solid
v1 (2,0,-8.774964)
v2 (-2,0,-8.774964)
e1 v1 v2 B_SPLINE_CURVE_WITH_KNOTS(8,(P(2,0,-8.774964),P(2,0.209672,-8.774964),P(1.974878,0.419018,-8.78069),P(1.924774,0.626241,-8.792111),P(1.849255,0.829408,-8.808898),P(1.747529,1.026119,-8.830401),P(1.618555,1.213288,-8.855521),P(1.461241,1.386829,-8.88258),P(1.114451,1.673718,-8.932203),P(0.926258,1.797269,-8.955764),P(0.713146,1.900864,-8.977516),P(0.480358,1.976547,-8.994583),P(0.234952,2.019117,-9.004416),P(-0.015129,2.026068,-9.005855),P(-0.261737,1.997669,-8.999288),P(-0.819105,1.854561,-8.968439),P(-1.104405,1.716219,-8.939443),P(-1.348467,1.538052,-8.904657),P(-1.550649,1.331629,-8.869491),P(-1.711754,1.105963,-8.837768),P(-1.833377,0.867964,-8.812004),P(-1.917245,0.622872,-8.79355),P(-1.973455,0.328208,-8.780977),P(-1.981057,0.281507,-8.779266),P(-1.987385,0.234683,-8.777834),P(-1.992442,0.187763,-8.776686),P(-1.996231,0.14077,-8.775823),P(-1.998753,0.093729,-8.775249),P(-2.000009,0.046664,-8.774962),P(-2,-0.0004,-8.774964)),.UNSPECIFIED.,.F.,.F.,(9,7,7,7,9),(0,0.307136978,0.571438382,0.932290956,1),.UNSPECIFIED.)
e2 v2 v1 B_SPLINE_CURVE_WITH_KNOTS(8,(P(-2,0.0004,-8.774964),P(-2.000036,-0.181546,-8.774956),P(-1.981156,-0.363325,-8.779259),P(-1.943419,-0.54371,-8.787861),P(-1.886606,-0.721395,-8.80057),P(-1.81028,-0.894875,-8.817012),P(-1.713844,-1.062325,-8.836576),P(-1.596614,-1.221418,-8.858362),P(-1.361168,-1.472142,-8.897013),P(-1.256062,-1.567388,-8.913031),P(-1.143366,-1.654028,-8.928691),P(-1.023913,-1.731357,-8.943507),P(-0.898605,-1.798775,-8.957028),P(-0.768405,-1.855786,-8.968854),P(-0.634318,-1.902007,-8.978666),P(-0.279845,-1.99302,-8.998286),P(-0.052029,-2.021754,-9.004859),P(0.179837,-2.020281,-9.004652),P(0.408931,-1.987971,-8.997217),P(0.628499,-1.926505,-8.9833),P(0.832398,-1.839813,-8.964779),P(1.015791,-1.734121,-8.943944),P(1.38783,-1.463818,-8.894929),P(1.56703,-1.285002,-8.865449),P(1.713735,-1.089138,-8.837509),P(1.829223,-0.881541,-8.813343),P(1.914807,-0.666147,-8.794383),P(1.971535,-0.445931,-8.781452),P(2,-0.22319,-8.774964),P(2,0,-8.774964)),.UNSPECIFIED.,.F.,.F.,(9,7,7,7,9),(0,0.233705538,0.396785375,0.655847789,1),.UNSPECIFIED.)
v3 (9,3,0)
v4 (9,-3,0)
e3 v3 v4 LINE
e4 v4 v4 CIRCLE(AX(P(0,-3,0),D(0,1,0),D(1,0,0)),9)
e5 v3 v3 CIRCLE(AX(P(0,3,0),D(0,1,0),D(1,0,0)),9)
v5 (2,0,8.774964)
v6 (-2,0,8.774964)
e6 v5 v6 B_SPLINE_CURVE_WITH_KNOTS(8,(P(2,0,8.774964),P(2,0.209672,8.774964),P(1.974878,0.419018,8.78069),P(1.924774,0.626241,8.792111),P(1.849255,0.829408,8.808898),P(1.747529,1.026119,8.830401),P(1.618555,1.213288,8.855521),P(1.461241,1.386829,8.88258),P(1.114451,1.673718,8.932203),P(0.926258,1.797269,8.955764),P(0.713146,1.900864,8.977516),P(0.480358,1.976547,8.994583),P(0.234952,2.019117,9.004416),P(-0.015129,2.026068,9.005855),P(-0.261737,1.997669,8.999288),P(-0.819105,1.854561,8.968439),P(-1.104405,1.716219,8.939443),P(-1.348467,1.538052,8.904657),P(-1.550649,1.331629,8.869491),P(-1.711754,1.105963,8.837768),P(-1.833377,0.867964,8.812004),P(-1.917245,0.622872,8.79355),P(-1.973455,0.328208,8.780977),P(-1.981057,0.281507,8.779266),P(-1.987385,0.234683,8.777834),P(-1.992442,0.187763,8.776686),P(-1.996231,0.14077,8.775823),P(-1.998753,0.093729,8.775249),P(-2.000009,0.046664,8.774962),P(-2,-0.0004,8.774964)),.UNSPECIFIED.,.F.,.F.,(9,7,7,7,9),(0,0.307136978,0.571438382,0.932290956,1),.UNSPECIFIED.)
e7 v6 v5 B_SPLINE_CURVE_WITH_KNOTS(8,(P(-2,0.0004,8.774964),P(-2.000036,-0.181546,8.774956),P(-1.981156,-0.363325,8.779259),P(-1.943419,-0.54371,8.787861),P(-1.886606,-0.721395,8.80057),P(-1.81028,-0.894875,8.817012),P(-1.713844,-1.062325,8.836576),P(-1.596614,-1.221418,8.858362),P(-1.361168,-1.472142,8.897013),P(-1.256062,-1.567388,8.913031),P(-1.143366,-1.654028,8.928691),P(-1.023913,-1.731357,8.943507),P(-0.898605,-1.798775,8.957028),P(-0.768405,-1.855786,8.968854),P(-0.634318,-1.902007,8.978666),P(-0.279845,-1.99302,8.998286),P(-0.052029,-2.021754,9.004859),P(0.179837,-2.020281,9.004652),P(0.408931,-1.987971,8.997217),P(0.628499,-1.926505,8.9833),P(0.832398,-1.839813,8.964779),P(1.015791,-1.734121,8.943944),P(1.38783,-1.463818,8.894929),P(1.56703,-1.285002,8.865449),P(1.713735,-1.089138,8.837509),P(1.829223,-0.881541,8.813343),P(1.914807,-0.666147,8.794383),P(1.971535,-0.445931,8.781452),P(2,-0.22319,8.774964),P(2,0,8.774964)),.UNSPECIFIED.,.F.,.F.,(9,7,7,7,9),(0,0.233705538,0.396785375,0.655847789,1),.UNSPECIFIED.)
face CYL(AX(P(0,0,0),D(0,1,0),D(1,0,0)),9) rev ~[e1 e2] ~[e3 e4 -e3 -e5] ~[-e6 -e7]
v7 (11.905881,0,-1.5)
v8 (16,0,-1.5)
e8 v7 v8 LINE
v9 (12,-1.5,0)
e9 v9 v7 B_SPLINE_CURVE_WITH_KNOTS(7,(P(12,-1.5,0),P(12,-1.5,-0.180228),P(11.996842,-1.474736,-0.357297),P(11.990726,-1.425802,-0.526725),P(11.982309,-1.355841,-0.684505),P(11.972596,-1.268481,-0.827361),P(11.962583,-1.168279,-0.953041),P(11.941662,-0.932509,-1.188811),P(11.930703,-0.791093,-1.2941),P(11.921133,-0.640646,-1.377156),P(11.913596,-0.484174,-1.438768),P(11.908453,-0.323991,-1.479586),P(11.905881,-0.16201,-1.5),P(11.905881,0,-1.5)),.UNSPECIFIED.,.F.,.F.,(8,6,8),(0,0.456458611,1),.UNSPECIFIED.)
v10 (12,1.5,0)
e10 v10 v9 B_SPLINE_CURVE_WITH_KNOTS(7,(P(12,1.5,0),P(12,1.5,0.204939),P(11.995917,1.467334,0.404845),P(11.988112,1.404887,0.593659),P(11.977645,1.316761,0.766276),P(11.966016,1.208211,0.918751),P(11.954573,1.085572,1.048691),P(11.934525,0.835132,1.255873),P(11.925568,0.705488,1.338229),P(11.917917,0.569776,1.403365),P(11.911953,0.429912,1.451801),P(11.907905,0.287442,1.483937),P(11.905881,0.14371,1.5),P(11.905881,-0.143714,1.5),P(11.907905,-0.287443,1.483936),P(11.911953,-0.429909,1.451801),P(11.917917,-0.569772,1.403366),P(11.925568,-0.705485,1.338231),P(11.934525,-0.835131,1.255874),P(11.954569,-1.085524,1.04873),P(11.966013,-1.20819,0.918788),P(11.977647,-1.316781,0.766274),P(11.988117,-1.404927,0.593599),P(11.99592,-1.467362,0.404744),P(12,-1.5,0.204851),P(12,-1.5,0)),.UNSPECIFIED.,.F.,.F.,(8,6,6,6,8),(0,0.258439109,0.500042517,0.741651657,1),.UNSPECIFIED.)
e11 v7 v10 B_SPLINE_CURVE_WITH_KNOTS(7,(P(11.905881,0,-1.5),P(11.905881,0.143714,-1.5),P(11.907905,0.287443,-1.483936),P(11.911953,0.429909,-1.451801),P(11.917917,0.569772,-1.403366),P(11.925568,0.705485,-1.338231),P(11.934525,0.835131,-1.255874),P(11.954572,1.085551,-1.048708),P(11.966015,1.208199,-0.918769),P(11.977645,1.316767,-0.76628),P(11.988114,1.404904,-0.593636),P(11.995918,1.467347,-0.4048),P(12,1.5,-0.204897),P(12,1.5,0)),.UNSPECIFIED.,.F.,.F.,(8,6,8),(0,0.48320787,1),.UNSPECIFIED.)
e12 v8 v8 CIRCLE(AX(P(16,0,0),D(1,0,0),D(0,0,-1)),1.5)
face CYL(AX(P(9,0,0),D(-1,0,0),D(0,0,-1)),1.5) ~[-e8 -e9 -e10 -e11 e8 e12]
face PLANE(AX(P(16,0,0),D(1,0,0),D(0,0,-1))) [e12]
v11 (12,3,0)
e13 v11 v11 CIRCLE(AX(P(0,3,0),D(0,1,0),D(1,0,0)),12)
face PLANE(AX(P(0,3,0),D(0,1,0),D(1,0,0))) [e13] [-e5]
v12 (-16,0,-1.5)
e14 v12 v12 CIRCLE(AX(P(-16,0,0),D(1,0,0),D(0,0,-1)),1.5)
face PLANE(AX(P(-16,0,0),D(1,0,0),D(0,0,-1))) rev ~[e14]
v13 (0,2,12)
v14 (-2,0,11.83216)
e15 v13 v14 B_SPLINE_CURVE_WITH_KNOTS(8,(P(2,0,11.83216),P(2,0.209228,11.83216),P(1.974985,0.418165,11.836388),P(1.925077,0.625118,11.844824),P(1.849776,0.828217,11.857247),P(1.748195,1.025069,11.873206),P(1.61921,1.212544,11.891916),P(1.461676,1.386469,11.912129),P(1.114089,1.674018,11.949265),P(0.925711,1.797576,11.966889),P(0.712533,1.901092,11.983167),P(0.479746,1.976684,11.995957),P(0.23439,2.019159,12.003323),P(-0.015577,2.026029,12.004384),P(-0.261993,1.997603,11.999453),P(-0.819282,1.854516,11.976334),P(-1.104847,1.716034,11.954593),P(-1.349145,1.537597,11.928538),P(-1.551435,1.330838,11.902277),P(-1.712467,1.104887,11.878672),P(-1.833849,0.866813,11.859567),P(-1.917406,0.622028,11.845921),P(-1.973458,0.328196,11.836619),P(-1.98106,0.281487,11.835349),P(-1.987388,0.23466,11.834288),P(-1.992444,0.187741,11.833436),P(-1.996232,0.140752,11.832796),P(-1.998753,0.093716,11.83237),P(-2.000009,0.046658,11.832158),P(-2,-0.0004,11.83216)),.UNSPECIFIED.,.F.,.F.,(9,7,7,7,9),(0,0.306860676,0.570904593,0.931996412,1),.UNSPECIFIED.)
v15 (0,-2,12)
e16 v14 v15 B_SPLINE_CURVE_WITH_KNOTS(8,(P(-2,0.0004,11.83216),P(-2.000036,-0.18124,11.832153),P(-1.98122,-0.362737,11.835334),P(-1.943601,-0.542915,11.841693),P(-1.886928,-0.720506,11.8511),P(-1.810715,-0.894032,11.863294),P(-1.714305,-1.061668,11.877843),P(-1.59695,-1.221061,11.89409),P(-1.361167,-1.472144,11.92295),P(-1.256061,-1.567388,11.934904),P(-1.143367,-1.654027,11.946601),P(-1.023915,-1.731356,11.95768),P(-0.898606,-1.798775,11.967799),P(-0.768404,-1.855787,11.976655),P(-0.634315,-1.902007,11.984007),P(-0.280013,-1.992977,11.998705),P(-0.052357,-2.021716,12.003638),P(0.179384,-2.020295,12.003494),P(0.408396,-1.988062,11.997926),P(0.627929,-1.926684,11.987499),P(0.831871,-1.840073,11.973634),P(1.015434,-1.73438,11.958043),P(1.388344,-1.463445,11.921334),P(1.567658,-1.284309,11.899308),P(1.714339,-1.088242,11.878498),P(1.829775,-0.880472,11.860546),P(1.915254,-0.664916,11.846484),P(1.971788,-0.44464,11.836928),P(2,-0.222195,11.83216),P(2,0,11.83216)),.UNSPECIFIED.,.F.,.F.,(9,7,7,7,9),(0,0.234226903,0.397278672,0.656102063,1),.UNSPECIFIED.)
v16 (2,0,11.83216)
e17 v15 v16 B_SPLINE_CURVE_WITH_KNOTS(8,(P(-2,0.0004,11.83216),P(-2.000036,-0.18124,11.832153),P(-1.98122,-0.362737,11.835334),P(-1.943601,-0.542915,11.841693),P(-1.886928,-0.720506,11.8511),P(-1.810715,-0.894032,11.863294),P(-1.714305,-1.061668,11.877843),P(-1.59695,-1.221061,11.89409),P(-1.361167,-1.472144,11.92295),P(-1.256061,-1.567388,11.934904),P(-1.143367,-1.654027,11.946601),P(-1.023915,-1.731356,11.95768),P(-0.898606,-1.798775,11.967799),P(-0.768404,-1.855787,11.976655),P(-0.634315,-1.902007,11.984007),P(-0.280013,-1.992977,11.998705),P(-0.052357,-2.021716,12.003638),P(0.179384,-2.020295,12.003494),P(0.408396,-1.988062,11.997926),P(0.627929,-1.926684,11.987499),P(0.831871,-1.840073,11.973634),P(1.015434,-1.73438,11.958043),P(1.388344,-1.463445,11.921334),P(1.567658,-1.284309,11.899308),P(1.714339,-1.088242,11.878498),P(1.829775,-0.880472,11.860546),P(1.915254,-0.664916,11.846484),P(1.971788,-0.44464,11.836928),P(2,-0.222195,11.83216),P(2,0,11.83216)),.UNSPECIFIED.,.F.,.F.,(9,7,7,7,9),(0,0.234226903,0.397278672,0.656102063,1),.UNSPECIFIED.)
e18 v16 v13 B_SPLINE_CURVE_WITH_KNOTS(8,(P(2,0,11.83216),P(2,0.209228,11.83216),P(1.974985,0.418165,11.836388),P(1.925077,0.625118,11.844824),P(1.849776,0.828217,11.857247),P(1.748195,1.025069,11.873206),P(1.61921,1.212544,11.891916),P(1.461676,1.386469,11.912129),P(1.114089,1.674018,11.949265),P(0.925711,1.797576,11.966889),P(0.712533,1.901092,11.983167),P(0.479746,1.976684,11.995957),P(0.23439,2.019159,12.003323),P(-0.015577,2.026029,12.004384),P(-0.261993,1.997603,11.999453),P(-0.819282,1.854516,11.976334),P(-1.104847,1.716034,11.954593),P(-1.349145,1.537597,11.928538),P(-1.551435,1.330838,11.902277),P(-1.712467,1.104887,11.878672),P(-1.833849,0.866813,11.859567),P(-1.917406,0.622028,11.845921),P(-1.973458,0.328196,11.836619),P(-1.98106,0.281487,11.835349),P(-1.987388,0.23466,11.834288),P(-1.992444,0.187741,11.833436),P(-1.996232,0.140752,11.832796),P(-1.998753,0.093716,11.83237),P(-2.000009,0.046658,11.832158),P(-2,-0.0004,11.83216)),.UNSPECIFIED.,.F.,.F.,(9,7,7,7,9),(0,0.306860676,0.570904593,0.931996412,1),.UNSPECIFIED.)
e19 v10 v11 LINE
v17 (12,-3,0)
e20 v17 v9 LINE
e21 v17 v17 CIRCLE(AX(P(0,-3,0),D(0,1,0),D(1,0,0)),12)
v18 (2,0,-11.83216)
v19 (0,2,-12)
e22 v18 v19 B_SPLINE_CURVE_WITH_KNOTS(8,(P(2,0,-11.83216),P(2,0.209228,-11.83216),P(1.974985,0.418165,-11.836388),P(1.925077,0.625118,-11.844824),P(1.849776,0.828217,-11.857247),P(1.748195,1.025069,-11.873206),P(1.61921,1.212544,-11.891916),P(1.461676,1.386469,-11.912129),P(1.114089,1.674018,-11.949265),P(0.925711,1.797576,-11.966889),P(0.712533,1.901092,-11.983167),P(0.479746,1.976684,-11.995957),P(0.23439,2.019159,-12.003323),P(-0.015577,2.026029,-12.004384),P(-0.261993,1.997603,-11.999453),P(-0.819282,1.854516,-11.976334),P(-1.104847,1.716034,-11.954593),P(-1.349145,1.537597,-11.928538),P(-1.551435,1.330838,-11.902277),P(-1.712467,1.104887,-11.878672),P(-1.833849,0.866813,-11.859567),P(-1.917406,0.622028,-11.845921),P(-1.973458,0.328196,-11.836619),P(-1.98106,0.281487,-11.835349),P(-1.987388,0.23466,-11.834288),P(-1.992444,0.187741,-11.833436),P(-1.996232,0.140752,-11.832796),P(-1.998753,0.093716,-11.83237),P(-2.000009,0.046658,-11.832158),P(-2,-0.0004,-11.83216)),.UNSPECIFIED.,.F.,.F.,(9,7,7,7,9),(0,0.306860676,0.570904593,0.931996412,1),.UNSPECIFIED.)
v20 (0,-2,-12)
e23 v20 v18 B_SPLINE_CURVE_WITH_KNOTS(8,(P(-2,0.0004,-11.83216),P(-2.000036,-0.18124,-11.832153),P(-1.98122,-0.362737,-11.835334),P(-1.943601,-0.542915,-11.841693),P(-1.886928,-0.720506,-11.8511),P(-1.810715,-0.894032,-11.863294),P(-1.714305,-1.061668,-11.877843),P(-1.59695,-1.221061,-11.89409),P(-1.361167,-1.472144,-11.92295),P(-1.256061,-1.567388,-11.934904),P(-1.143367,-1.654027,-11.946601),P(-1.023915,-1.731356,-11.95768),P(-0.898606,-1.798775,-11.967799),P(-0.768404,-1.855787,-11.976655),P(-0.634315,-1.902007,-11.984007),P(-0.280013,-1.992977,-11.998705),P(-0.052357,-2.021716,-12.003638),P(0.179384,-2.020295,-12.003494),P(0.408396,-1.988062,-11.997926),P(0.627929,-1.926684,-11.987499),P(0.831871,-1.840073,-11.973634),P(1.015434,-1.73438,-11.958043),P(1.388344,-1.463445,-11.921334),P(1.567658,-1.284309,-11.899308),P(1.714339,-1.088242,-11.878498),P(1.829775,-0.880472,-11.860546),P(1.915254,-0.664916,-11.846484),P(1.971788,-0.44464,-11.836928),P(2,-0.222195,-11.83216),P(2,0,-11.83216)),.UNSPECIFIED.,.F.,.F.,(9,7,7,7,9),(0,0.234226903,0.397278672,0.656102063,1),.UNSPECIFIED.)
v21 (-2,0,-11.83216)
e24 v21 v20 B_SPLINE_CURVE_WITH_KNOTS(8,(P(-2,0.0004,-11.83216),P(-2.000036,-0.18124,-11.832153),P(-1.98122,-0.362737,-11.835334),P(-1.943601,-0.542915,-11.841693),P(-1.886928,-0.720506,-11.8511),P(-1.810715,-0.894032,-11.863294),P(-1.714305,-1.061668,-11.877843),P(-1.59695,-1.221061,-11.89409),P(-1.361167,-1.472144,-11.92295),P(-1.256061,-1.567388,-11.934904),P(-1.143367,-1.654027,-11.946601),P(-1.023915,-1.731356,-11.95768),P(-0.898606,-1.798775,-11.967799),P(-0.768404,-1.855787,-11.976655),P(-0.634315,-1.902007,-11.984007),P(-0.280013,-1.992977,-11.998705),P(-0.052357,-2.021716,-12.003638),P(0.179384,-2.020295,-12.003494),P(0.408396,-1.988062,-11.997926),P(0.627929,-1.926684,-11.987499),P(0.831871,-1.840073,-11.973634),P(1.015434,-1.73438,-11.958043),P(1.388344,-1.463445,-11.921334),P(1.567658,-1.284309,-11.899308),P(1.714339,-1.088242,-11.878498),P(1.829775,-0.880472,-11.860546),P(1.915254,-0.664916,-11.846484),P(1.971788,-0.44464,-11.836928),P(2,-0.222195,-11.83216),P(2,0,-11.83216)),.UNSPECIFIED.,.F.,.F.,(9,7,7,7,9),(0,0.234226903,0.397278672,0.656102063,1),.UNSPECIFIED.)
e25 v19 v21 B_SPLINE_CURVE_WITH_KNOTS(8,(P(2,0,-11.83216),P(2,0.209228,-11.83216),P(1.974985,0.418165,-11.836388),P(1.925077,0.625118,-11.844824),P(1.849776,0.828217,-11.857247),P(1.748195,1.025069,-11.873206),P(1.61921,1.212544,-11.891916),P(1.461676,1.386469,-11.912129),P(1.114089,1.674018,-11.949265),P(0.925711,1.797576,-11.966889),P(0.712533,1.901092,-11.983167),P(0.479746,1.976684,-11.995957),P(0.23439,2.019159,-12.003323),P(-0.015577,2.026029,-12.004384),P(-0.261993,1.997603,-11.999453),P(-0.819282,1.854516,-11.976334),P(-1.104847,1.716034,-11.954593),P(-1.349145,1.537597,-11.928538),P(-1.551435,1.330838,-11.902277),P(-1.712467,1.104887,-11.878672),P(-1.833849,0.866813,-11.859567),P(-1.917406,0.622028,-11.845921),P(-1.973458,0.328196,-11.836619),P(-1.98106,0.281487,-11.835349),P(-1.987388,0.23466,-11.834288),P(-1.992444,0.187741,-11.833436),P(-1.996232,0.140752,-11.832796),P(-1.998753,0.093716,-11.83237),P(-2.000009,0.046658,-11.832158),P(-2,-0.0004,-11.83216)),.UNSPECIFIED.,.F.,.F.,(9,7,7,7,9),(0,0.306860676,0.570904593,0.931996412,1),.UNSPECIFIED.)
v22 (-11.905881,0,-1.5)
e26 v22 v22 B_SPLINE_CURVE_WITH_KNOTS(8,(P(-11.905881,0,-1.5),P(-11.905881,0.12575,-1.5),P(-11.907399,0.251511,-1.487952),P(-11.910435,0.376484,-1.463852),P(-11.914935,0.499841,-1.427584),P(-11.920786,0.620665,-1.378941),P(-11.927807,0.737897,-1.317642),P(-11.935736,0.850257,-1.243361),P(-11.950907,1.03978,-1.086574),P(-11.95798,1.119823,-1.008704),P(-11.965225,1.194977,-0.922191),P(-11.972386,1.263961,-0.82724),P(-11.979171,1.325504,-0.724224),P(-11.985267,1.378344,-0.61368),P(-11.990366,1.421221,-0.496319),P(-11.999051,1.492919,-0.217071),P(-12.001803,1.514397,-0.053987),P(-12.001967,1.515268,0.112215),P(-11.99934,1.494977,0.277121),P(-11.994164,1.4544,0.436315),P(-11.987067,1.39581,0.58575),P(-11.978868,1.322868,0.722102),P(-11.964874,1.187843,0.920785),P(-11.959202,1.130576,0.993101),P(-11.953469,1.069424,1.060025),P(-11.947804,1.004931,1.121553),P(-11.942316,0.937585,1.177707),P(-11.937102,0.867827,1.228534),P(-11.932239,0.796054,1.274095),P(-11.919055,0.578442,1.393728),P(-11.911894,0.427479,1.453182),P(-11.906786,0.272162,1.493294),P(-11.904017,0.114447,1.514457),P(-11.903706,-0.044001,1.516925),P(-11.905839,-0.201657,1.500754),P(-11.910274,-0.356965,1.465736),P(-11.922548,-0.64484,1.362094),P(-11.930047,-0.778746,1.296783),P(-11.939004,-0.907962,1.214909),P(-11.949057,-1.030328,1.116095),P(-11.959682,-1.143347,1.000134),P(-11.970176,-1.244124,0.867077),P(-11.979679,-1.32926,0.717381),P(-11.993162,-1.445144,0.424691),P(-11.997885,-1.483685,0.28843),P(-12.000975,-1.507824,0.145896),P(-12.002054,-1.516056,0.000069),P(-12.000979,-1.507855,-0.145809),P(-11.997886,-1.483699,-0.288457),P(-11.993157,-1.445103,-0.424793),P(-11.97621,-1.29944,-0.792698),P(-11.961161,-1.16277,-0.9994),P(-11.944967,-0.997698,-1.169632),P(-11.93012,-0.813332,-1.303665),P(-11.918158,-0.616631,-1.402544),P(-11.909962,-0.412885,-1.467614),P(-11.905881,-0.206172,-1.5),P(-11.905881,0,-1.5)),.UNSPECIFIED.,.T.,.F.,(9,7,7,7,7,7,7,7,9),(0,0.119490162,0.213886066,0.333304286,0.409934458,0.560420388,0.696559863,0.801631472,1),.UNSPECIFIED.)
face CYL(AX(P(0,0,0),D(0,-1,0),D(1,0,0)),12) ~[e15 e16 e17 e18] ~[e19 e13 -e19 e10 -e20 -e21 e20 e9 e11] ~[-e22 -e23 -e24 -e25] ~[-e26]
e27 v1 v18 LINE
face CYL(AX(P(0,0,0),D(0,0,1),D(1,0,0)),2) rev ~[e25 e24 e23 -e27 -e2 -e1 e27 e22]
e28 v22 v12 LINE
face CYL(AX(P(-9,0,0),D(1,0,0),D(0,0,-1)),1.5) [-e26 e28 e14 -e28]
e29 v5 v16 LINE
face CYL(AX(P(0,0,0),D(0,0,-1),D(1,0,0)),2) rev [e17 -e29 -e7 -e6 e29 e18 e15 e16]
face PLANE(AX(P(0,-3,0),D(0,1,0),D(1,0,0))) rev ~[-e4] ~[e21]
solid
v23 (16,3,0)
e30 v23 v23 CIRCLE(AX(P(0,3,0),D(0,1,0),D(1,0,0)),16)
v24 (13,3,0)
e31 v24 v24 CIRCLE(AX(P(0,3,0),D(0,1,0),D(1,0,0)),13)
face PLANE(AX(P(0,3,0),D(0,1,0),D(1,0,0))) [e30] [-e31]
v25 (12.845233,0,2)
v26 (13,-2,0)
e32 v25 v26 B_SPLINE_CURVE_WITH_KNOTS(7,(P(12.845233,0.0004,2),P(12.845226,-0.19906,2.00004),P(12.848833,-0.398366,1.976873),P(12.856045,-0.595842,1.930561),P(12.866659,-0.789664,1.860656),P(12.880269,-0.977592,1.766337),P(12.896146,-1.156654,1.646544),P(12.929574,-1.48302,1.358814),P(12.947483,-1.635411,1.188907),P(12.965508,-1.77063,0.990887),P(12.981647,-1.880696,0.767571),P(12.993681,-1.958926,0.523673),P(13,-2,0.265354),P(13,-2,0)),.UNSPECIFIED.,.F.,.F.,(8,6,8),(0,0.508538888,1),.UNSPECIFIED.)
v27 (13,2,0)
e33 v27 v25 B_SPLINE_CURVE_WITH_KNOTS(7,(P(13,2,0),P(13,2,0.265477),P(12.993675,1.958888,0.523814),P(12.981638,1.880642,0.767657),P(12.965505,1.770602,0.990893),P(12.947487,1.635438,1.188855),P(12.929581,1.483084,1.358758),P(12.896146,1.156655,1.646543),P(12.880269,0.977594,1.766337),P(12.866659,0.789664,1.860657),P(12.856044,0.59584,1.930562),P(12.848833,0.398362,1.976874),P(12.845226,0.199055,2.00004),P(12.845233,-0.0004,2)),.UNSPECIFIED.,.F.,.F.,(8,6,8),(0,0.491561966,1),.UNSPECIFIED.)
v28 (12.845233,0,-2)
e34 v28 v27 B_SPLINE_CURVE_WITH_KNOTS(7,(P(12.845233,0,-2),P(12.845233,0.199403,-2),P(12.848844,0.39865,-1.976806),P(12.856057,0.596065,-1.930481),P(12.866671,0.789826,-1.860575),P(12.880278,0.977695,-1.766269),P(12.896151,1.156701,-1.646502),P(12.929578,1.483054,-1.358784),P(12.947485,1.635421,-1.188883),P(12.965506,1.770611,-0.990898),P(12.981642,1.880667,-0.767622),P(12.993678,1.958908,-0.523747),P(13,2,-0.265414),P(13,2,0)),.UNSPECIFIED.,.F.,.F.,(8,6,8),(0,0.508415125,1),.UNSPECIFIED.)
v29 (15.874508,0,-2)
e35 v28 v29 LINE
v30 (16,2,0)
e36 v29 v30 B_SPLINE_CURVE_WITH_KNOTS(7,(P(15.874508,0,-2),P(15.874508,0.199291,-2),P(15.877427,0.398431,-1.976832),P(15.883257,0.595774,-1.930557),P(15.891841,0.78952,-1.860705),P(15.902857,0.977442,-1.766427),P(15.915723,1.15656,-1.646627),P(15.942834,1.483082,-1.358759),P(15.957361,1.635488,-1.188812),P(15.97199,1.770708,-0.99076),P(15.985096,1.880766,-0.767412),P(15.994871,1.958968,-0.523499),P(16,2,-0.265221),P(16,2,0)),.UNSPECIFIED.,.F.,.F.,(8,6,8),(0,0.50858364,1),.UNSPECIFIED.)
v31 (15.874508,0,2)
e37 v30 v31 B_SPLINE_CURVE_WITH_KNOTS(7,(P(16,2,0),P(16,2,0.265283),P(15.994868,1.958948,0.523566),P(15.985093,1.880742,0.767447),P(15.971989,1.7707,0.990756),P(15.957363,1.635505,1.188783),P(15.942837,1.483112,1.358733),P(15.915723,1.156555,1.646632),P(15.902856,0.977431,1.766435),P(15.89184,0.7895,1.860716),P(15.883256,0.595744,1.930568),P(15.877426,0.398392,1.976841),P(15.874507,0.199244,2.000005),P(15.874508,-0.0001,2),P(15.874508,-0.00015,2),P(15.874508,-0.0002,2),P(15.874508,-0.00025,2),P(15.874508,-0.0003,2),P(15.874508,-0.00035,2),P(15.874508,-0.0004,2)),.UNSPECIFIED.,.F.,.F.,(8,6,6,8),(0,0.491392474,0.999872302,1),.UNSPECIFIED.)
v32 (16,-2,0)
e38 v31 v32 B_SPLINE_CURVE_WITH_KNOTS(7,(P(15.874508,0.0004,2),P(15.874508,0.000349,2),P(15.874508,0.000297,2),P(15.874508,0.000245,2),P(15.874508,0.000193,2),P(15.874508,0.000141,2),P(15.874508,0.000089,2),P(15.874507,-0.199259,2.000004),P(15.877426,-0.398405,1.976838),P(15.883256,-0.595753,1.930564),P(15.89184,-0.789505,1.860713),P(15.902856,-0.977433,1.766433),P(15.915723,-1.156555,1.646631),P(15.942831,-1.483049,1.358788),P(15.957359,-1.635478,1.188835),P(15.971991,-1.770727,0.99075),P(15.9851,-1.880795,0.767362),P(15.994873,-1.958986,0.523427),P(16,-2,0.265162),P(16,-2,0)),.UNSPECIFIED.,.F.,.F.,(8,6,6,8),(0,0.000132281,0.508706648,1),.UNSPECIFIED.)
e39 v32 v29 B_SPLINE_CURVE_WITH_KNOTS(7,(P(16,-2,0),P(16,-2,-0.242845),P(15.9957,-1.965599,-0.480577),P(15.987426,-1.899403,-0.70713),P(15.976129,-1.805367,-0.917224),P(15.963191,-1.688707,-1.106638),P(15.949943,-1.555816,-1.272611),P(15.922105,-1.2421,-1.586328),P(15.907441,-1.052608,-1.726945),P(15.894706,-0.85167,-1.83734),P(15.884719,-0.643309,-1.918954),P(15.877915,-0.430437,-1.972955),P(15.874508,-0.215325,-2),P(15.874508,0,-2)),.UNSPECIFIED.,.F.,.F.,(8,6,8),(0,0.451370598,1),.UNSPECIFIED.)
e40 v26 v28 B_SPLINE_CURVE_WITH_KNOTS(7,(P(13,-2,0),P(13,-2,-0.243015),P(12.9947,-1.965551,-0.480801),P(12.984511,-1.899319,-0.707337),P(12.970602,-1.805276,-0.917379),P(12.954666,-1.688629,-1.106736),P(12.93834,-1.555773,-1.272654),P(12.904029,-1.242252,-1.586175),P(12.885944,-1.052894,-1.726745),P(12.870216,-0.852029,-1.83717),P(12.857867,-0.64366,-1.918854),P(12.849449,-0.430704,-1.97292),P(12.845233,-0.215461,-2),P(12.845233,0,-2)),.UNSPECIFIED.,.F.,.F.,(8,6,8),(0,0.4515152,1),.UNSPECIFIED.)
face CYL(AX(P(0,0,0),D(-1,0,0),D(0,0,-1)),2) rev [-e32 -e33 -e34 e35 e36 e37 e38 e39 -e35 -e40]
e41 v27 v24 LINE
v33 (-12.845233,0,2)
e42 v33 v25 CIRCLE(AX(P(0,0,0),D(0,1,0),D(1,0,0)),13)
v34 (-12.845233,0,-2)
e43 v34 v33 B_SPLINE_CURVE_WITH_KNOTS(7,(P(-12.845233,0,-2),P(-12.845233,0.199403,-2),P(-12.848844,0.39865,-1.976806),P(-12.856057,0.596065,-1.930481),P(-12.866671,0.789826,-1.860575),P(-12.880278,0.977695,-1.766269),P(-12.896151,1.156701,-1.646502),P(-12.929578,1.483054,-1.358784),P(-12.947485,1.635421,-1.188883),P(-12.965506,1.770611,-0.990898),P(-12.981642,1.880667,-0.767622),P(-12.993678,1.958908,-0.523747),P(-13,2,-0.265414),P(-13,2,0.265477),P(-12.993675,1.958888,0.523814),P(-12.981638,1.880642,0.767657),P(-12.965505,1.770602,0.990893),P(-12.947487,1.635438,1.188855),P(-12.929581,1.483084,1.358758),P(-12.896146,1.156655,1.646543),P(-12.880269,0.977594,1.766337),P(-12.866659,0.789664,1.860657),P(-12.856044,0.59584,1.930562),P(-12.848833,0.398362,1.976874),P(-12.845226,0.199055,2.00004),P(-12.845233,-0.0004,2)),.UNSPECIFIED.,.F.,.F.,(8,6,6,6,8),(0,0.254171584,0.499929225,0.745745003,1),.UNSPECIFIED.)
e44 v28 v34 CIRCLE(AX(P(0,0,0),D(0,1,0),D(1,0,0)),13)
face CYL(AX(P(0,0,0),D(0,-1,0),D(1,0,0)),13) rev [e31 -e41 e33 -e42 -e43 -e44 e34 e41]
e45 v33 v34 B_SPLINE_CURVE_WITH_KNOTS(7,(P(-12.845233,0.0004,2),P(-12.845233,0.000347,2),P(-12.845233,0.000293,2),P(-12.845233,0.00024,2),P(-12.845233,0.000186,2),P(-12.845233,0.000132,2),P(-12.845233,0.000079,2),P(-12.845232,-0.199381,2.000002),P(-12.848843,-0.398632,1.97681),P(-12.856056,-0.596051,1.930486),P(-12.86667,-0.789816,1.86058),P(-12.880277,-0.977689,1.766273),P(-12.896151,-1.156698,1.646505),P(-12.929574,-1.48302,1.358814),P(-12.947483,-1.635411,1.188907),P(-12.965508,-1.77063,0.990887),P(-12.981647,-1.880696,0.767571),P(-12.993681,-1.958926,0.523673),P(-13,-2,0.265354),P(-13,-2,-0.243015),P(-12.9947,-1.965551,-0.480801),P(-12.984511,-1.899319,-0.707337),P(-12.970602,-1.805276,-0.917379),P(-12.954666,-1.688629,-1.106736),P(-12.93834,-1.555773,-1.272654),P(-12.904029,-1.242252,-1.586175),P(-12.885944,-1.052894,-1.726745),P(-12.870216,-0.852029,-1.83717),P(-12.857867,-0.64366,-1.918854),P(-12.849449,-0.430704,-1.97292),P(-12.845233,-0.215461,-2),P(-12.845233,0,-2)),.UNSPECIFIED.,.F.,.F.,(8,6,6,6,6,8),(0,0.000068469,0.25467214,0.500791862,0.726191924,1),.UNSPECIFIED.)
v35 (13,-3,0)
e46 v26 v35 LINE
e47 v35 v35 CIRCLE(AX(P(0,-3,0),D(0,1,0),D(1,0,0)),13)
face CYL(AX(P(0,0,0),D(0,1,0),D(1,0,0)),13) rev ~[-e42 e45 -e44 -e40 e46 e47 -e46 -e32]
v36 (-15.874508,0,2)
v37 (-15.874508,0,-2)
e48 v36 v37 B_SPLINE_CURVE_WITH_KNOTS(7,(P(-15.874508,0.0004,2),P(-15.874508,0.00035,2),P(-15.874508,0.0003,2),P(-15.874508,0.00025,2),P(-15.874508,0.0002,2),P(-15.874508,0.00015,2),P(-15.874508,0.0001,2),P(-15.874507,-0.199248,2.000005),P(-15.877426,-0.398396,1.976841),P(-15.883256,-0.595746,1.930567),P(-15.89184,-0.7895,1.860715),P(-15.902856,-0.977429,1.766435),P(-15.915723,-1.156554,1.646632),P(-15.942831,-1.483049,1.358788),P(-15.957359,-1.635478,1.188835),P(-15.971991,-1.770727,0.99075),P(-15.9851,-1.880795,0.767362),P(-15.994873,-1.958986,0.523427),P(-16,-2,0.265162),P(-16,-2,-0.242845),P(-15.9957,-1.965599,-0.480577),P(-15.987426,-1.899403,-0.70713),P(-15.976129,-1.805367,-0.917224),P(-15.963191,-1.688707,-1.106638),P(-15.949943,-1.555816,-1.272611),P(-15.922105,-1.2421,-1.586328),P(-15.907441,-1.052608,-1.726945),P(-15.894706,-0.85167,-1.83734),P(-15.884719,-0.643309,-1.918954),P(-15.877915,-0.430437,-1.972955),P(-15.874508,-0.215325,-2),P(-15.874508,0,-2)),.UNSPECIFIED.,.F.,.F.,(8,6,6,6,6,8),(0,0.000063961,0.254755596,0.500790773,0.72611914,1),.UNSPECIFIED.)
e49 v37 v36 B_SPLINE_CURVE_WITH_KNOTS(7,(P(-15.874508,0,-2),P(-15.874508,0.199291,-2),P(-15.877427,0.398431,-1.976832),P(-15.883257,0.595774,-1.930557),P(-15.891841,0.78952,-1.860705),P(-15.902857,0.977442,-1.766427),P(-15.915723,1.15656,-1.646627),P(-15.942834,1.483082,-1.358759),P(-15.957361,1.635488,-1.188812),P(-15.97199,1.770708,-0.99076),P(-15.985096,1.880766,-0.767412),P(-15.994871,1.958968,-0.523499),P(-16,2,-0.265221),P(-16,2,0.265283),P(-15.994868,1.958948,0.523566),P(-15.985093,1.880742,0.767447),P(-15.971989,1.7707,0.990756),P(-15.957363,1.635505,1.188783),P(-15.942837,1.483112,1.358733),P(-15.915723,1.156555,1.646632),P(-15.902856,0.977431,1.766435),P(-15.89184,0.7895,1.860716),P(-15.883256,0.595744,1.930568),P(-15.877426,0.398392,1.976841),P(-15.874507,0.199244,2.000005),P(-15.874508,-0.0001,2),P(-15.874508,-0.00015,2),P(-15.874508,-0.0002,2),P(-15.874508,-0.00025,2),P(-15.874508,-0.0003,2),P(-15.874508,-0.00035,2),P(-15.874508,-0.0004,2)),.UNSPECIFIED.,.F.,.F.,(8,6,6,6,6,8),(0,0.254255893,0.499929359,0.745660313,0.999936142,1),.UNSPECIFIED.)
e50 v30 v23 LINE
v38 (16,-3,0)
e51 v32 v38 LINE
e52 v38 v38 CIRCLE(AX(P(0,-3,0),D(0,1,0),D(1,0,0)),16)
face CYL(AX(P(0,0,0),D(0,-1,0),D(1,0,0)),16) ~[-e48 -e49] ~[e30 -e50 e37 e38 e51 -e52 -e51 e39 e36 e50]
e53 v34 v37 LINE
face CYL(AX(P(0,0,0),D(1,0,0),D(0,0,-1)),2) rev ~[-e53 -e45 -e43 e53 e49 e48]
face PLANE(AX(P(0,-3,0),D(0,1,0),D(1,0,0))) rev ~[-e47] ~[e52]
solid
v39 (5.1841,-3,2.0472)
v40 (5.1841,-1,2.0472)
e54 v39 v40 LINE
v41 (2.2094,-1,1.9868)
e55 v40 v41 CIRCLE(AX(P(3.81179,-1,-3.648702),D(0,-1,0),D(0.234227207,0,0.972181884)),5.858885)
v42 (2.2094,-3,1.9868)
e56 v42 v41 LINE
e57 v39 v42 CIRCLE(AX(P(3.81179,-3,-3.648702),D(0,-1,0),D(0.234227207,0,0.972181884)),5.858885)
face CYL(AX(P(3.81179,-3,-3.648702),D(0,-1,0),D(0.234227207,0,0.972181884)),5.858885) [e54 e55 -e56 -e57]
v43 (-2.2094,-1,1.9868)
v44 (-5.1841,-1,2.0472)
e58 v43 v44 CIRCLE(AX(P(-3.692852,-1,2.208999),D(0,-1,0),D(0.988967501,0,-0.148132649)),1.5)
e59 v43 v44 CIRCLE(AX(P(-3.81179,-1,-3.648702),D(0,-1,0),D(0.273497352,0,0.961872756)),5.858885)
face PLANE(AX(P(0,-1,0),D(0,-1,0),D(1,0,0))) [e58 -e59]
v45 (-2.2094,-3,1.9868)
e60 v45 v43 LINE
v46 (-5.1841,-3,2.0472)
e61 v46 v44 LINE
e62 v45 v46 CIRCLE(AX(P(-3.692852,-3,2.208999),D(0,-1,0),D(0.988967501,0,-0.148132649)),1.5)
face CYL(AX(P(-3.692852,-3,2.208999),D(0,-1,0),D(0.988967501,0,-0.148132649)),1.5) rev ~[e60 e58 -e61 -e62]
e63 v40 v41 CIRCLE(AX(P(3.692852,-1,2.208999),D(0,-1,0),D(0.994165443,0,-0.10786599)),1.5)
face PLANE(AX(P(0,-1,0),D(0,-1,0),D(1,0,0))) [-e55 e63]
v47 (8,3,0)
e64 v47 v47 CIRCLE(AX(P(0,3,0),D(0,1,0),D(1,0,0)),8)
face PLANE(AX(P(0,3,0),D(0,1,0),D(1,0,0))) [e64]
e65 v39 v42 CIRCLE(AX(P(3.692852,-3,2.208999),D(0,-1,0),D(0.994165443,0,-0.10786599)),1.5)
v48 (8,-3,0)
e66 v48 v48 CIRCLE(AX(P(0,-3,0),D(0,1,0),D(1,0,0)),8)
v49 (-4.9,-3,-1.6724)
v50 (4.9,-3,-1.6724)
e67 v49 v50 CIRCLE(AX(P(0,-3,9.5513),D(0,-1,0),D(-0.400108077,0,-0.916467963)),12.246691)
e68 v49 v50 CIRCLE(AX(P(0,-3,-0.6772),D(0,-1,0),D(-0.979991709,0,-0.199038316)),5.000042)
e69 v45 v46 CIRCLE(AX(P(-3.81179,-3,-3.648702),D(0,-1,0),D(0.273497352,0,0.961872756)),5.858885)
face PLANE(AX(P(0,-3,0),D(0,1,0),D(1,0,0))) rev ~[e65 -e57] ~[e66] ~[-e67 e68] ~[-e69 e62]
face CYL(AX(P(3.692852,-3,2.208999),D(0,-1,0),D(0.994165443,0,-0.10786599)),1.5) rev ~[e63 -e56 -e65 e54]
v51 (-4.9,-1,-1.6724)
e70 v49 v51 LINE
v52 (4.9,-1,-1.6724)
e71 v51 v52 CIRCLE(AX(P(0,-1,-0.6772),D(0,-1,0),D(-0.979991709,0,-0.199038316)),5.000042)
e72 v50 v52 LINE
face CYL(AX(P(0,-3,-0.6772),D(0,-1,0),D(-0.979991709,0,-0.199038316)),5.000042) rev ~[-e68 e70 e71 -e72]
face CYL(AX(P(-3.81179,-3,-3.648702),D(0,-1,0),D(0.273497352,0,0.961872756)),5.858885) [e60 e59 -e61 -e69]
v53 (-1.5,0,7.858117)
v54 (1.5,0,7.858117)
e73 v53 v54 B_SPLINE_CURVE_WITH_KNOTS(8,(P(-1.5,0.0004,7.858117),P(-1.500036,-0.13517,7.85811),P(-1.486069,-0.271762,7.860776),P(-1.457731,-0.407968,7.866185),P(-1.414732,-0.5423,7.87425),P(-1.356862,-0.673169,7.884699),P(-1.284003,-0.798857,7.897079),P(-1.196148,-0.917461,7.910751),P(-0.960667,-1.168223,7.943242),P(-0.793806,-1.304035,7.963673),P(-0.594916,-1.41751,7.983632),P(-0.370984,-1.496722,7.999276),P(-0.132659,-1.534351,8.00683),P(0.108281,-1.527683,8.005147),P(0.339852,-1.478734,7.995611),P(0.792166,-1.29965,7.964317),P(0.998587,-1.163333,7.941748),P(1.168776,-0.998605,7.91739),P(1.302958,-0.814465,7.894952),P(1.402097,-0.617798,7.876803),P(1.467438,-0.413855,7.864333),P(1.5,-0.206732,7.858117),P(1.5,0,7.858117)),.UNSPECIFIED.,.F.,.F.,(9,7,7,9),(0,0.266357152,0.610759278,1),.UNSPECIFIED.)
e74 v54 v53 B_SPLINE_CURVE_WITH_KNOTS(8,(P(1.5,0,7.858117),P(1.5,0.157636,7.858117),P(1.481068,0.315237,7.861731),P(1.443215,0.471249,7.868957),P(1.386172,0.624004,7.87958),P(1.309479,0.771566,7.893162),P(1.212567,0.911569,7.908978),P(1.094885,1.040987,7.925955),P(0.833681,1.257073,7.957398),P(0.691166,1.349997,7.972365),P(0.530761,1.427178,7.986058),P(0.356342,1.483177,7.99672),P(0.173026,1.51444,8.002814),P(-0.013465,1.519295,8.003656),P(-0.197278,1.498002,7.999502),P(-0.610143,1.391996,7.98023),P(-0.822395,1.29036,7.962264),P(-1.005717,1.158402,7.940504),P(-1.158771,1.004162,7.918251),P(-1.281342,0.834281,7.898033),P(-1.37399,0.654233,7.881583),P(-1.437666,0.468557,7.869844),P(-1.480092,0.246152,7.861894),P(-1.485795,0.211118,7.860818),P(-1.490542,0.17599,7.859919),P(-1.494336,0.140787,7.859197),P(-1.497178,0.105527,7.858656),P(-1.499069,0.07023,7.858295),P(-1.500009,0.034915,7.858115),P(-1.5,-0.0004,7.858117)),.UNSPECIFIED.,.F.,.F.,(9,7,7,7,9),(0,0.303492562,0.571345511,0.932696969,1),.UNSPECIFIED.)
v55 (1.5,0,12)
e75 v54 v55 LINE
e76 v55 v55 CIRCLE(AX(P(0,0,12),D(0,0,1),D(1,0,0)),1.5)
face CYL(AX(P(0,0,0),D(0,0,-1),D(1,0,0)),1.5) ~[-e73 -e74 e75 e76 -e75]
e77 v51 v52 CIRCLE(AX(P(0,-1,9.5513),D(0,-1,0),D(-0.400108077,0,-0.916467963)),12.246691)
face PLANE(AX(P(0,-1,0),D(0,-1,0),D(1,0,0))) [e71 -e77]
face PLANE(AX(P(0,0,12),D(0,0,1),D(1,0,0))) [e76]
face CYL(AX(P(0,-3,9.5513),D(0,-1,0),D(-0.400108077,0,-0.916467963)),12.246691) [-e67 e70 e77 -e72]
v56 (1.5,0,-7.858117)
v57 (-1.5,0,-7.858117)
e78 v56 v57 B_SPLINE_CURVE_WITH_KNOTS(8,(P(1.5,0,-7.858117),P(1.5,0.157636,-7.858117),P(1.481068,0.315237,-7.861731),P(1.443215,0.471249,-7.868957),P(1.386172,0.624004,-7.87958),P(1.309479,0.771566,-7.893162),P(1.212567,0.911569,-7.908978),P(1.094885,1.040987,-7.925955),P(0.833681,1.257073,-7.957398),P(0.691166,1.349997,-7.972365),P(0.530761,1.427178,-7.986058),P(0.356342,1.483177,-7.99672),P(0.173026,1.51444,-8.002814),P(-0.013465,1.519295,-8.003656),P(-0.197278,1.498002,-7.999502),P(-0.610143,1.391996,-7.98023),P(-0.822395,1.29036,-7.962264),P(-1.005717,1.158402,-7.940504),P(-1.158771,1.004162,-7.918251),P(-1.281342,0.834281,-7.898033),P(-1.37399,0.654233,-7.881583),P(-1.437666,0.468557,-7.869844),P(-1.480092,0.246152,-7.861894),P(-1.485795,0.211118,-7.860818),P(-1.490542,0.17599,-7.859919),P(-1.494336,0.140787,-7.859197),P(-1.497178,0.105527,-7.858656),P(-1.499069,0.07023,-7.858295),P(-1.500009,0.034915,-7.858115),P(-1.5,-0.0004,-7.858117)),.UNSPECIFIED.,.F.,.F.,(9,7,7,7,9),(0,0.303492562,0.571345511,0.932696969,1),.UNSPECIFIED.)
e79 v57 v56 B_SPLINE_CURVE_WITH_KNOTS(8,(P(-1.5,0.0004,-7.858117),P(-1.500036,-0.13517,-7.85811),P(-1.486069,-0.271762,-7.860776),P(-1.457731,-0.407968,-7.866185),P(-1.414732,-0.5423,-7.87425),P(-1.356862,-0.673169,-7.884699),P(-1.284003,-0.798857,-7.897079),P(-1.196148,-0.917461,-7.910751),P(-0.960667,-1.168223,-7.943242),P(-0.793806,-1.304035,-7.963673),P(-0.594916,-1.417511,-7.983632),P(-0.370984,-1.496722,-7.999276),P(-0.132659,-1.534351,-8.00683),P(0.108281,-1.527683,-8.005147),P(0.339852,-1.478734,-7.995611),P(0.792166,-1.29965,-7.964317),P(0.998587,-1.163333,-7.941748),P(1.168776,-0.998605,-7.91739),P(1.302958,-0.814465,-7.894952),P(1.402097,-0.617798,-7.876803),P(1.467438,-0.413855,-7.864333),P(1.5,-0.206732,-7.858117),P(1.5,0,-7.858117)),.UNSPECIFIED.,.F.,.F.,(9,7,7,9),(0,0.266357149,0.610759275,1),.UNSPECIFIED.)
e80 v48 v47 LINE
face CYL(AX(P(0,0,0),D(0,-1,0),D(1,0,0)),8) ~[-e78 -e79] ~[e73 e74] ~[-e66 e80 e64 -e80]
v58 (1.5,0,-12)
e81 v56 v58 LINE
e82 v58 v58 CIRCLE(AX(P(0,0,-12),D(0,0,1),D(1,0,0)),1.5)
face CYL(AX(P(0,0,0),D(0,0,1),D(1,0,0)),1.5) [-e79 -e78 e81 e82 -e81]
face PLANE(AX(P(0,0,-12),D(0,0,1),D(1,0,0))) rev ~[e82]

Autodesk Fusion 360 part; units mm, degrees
sketch "Sketch1" plane through (0, 0, 0) normal (0, 1, 0) x (1, 0, 0)
  circle A0 centre (0, 0) radius 8
  circle A1 centre (0, 0) radius 9
  circle A2 centre (0, 0) radius 12
  circle A3 centre (0, 0) radius 13
  circle A4 centre (0, 0) radius 16
  dimension "d4" = 16
  dimension "d5" = 1
  dimension "d6" = 3
  dimension "d7" = 1
  dimension "d8" = 3
extrude "Extrude1" add sketch "Sketch1" along normal mid plane 6 makes body 1 at (1.6626, 3, 1.29) makes body 2 at (11.9851, 2, 0.5982) makes body 3 at (15.9801, 2, 0.7975)
sketch "Sketch2" plane through (0, 0, 0) normal (0, 0, 1) x (1, 0, 0)
  circle A0 centre (0, 0) radius 1.5
  circle A1 centre (0, 0) radius 2
  dimension "d13" = 3
  dimension "d14" = 0.5
extrude "Extrude2" add sketch "Sketch2" along normal mid plane 24 contours A0 bodies 1
extrude "Extrude3" cut sketch "Sketch2" along normal mid plane 24 contours A0 | A1 bodies 2
sketch "Sketch3" plane through (0, 0, 0) normal (1, 0, 0) x (0, 0, -1)
  circle A0 centre (0, 0) radius 1.5
  circle A1 centre (0, 0) radius 2
  dimension "d19" = 3
  dimension "d20" = 0.5
extrude "Extrude4" add sketch "Sketch3" along normal blind 7 from surface at 9 contours A0 bodies 2
extrude "Extrude5" add sketch "Sketch3" against normal blind 7 from surface at -9 contours A0 bodies 2
extrude "Extrude6" cut sketch "Sketch3" along normal through all and the other way through all contours A0 | A1 bodies 3
sketch "Sketch4" plane through (0, -3, 0) normal (0, -1, 0) x (1, 0, 0)
  circle A0 centre (0, 0) radius 8
  arc A1 (-2.2094, 1.9868) -> (-5.1841, 2.0472) centre (-3.6929, 2.209) ccw
  line L0 (0, 0) -> (0, 8) construction
  arc A2 (5.1841, 2.0472) -> (2.2094, 1.9868) centre (3.6929, 2.209) ccw
  arc A3 (-4.9, -1.6724) -> (4.9, -1.6724) centre (0, -0.6772) ccw
  arc A4 (-4.9, -1.6724) -> (4.9, -1.6724) centre (0, 9.5513) ccw
  arc A5 (-2.2094, 1.9868) -> (-5.1841, 2.0472) centre (-3.8119, -3.6487) ccw
  arc A6 (5.1841, 2.0472) -> (2.2094, 1.9868) centre (3.8119, -3.6487) ccw
  dimension "d28" = 1.5
  dimension "d29" = 5
extrude "Extrude7" cut sketch "Sketch4" against normal blind 2 contours A1 A5 | A2 A6 | A3 A4 bodies 1
equation "center = 16 mm"
equation "ringspace = 1 mm"
equation "ringwidth = 3 mm"
equation "d4 = center"
equation "d5 = ringspace"
equation "d6 = ringwidth"
equation "d7 = ringspace"
equation "d8 = ringwidth"
equation "rod = 3 mm"
equation "rodspace = 0.5 mm"
equation "d13 = rod"
equation "d14 = rodspace"
equation "d15 = center / 2 + ringspace + ringwidth"
equation "d17 = center / 2 + ringspace + ringwidth"
equation "d19 = rod"
equation "d20 = rodspace"
equation "d21 = center / 2 + ringspace"
equation "d22 = ringwidth + ringspace + ringwidth"
equation "d24 = -center / 2 - ringspace"
equation "d25 = -ringwidth - ringspace - ringwidth"
